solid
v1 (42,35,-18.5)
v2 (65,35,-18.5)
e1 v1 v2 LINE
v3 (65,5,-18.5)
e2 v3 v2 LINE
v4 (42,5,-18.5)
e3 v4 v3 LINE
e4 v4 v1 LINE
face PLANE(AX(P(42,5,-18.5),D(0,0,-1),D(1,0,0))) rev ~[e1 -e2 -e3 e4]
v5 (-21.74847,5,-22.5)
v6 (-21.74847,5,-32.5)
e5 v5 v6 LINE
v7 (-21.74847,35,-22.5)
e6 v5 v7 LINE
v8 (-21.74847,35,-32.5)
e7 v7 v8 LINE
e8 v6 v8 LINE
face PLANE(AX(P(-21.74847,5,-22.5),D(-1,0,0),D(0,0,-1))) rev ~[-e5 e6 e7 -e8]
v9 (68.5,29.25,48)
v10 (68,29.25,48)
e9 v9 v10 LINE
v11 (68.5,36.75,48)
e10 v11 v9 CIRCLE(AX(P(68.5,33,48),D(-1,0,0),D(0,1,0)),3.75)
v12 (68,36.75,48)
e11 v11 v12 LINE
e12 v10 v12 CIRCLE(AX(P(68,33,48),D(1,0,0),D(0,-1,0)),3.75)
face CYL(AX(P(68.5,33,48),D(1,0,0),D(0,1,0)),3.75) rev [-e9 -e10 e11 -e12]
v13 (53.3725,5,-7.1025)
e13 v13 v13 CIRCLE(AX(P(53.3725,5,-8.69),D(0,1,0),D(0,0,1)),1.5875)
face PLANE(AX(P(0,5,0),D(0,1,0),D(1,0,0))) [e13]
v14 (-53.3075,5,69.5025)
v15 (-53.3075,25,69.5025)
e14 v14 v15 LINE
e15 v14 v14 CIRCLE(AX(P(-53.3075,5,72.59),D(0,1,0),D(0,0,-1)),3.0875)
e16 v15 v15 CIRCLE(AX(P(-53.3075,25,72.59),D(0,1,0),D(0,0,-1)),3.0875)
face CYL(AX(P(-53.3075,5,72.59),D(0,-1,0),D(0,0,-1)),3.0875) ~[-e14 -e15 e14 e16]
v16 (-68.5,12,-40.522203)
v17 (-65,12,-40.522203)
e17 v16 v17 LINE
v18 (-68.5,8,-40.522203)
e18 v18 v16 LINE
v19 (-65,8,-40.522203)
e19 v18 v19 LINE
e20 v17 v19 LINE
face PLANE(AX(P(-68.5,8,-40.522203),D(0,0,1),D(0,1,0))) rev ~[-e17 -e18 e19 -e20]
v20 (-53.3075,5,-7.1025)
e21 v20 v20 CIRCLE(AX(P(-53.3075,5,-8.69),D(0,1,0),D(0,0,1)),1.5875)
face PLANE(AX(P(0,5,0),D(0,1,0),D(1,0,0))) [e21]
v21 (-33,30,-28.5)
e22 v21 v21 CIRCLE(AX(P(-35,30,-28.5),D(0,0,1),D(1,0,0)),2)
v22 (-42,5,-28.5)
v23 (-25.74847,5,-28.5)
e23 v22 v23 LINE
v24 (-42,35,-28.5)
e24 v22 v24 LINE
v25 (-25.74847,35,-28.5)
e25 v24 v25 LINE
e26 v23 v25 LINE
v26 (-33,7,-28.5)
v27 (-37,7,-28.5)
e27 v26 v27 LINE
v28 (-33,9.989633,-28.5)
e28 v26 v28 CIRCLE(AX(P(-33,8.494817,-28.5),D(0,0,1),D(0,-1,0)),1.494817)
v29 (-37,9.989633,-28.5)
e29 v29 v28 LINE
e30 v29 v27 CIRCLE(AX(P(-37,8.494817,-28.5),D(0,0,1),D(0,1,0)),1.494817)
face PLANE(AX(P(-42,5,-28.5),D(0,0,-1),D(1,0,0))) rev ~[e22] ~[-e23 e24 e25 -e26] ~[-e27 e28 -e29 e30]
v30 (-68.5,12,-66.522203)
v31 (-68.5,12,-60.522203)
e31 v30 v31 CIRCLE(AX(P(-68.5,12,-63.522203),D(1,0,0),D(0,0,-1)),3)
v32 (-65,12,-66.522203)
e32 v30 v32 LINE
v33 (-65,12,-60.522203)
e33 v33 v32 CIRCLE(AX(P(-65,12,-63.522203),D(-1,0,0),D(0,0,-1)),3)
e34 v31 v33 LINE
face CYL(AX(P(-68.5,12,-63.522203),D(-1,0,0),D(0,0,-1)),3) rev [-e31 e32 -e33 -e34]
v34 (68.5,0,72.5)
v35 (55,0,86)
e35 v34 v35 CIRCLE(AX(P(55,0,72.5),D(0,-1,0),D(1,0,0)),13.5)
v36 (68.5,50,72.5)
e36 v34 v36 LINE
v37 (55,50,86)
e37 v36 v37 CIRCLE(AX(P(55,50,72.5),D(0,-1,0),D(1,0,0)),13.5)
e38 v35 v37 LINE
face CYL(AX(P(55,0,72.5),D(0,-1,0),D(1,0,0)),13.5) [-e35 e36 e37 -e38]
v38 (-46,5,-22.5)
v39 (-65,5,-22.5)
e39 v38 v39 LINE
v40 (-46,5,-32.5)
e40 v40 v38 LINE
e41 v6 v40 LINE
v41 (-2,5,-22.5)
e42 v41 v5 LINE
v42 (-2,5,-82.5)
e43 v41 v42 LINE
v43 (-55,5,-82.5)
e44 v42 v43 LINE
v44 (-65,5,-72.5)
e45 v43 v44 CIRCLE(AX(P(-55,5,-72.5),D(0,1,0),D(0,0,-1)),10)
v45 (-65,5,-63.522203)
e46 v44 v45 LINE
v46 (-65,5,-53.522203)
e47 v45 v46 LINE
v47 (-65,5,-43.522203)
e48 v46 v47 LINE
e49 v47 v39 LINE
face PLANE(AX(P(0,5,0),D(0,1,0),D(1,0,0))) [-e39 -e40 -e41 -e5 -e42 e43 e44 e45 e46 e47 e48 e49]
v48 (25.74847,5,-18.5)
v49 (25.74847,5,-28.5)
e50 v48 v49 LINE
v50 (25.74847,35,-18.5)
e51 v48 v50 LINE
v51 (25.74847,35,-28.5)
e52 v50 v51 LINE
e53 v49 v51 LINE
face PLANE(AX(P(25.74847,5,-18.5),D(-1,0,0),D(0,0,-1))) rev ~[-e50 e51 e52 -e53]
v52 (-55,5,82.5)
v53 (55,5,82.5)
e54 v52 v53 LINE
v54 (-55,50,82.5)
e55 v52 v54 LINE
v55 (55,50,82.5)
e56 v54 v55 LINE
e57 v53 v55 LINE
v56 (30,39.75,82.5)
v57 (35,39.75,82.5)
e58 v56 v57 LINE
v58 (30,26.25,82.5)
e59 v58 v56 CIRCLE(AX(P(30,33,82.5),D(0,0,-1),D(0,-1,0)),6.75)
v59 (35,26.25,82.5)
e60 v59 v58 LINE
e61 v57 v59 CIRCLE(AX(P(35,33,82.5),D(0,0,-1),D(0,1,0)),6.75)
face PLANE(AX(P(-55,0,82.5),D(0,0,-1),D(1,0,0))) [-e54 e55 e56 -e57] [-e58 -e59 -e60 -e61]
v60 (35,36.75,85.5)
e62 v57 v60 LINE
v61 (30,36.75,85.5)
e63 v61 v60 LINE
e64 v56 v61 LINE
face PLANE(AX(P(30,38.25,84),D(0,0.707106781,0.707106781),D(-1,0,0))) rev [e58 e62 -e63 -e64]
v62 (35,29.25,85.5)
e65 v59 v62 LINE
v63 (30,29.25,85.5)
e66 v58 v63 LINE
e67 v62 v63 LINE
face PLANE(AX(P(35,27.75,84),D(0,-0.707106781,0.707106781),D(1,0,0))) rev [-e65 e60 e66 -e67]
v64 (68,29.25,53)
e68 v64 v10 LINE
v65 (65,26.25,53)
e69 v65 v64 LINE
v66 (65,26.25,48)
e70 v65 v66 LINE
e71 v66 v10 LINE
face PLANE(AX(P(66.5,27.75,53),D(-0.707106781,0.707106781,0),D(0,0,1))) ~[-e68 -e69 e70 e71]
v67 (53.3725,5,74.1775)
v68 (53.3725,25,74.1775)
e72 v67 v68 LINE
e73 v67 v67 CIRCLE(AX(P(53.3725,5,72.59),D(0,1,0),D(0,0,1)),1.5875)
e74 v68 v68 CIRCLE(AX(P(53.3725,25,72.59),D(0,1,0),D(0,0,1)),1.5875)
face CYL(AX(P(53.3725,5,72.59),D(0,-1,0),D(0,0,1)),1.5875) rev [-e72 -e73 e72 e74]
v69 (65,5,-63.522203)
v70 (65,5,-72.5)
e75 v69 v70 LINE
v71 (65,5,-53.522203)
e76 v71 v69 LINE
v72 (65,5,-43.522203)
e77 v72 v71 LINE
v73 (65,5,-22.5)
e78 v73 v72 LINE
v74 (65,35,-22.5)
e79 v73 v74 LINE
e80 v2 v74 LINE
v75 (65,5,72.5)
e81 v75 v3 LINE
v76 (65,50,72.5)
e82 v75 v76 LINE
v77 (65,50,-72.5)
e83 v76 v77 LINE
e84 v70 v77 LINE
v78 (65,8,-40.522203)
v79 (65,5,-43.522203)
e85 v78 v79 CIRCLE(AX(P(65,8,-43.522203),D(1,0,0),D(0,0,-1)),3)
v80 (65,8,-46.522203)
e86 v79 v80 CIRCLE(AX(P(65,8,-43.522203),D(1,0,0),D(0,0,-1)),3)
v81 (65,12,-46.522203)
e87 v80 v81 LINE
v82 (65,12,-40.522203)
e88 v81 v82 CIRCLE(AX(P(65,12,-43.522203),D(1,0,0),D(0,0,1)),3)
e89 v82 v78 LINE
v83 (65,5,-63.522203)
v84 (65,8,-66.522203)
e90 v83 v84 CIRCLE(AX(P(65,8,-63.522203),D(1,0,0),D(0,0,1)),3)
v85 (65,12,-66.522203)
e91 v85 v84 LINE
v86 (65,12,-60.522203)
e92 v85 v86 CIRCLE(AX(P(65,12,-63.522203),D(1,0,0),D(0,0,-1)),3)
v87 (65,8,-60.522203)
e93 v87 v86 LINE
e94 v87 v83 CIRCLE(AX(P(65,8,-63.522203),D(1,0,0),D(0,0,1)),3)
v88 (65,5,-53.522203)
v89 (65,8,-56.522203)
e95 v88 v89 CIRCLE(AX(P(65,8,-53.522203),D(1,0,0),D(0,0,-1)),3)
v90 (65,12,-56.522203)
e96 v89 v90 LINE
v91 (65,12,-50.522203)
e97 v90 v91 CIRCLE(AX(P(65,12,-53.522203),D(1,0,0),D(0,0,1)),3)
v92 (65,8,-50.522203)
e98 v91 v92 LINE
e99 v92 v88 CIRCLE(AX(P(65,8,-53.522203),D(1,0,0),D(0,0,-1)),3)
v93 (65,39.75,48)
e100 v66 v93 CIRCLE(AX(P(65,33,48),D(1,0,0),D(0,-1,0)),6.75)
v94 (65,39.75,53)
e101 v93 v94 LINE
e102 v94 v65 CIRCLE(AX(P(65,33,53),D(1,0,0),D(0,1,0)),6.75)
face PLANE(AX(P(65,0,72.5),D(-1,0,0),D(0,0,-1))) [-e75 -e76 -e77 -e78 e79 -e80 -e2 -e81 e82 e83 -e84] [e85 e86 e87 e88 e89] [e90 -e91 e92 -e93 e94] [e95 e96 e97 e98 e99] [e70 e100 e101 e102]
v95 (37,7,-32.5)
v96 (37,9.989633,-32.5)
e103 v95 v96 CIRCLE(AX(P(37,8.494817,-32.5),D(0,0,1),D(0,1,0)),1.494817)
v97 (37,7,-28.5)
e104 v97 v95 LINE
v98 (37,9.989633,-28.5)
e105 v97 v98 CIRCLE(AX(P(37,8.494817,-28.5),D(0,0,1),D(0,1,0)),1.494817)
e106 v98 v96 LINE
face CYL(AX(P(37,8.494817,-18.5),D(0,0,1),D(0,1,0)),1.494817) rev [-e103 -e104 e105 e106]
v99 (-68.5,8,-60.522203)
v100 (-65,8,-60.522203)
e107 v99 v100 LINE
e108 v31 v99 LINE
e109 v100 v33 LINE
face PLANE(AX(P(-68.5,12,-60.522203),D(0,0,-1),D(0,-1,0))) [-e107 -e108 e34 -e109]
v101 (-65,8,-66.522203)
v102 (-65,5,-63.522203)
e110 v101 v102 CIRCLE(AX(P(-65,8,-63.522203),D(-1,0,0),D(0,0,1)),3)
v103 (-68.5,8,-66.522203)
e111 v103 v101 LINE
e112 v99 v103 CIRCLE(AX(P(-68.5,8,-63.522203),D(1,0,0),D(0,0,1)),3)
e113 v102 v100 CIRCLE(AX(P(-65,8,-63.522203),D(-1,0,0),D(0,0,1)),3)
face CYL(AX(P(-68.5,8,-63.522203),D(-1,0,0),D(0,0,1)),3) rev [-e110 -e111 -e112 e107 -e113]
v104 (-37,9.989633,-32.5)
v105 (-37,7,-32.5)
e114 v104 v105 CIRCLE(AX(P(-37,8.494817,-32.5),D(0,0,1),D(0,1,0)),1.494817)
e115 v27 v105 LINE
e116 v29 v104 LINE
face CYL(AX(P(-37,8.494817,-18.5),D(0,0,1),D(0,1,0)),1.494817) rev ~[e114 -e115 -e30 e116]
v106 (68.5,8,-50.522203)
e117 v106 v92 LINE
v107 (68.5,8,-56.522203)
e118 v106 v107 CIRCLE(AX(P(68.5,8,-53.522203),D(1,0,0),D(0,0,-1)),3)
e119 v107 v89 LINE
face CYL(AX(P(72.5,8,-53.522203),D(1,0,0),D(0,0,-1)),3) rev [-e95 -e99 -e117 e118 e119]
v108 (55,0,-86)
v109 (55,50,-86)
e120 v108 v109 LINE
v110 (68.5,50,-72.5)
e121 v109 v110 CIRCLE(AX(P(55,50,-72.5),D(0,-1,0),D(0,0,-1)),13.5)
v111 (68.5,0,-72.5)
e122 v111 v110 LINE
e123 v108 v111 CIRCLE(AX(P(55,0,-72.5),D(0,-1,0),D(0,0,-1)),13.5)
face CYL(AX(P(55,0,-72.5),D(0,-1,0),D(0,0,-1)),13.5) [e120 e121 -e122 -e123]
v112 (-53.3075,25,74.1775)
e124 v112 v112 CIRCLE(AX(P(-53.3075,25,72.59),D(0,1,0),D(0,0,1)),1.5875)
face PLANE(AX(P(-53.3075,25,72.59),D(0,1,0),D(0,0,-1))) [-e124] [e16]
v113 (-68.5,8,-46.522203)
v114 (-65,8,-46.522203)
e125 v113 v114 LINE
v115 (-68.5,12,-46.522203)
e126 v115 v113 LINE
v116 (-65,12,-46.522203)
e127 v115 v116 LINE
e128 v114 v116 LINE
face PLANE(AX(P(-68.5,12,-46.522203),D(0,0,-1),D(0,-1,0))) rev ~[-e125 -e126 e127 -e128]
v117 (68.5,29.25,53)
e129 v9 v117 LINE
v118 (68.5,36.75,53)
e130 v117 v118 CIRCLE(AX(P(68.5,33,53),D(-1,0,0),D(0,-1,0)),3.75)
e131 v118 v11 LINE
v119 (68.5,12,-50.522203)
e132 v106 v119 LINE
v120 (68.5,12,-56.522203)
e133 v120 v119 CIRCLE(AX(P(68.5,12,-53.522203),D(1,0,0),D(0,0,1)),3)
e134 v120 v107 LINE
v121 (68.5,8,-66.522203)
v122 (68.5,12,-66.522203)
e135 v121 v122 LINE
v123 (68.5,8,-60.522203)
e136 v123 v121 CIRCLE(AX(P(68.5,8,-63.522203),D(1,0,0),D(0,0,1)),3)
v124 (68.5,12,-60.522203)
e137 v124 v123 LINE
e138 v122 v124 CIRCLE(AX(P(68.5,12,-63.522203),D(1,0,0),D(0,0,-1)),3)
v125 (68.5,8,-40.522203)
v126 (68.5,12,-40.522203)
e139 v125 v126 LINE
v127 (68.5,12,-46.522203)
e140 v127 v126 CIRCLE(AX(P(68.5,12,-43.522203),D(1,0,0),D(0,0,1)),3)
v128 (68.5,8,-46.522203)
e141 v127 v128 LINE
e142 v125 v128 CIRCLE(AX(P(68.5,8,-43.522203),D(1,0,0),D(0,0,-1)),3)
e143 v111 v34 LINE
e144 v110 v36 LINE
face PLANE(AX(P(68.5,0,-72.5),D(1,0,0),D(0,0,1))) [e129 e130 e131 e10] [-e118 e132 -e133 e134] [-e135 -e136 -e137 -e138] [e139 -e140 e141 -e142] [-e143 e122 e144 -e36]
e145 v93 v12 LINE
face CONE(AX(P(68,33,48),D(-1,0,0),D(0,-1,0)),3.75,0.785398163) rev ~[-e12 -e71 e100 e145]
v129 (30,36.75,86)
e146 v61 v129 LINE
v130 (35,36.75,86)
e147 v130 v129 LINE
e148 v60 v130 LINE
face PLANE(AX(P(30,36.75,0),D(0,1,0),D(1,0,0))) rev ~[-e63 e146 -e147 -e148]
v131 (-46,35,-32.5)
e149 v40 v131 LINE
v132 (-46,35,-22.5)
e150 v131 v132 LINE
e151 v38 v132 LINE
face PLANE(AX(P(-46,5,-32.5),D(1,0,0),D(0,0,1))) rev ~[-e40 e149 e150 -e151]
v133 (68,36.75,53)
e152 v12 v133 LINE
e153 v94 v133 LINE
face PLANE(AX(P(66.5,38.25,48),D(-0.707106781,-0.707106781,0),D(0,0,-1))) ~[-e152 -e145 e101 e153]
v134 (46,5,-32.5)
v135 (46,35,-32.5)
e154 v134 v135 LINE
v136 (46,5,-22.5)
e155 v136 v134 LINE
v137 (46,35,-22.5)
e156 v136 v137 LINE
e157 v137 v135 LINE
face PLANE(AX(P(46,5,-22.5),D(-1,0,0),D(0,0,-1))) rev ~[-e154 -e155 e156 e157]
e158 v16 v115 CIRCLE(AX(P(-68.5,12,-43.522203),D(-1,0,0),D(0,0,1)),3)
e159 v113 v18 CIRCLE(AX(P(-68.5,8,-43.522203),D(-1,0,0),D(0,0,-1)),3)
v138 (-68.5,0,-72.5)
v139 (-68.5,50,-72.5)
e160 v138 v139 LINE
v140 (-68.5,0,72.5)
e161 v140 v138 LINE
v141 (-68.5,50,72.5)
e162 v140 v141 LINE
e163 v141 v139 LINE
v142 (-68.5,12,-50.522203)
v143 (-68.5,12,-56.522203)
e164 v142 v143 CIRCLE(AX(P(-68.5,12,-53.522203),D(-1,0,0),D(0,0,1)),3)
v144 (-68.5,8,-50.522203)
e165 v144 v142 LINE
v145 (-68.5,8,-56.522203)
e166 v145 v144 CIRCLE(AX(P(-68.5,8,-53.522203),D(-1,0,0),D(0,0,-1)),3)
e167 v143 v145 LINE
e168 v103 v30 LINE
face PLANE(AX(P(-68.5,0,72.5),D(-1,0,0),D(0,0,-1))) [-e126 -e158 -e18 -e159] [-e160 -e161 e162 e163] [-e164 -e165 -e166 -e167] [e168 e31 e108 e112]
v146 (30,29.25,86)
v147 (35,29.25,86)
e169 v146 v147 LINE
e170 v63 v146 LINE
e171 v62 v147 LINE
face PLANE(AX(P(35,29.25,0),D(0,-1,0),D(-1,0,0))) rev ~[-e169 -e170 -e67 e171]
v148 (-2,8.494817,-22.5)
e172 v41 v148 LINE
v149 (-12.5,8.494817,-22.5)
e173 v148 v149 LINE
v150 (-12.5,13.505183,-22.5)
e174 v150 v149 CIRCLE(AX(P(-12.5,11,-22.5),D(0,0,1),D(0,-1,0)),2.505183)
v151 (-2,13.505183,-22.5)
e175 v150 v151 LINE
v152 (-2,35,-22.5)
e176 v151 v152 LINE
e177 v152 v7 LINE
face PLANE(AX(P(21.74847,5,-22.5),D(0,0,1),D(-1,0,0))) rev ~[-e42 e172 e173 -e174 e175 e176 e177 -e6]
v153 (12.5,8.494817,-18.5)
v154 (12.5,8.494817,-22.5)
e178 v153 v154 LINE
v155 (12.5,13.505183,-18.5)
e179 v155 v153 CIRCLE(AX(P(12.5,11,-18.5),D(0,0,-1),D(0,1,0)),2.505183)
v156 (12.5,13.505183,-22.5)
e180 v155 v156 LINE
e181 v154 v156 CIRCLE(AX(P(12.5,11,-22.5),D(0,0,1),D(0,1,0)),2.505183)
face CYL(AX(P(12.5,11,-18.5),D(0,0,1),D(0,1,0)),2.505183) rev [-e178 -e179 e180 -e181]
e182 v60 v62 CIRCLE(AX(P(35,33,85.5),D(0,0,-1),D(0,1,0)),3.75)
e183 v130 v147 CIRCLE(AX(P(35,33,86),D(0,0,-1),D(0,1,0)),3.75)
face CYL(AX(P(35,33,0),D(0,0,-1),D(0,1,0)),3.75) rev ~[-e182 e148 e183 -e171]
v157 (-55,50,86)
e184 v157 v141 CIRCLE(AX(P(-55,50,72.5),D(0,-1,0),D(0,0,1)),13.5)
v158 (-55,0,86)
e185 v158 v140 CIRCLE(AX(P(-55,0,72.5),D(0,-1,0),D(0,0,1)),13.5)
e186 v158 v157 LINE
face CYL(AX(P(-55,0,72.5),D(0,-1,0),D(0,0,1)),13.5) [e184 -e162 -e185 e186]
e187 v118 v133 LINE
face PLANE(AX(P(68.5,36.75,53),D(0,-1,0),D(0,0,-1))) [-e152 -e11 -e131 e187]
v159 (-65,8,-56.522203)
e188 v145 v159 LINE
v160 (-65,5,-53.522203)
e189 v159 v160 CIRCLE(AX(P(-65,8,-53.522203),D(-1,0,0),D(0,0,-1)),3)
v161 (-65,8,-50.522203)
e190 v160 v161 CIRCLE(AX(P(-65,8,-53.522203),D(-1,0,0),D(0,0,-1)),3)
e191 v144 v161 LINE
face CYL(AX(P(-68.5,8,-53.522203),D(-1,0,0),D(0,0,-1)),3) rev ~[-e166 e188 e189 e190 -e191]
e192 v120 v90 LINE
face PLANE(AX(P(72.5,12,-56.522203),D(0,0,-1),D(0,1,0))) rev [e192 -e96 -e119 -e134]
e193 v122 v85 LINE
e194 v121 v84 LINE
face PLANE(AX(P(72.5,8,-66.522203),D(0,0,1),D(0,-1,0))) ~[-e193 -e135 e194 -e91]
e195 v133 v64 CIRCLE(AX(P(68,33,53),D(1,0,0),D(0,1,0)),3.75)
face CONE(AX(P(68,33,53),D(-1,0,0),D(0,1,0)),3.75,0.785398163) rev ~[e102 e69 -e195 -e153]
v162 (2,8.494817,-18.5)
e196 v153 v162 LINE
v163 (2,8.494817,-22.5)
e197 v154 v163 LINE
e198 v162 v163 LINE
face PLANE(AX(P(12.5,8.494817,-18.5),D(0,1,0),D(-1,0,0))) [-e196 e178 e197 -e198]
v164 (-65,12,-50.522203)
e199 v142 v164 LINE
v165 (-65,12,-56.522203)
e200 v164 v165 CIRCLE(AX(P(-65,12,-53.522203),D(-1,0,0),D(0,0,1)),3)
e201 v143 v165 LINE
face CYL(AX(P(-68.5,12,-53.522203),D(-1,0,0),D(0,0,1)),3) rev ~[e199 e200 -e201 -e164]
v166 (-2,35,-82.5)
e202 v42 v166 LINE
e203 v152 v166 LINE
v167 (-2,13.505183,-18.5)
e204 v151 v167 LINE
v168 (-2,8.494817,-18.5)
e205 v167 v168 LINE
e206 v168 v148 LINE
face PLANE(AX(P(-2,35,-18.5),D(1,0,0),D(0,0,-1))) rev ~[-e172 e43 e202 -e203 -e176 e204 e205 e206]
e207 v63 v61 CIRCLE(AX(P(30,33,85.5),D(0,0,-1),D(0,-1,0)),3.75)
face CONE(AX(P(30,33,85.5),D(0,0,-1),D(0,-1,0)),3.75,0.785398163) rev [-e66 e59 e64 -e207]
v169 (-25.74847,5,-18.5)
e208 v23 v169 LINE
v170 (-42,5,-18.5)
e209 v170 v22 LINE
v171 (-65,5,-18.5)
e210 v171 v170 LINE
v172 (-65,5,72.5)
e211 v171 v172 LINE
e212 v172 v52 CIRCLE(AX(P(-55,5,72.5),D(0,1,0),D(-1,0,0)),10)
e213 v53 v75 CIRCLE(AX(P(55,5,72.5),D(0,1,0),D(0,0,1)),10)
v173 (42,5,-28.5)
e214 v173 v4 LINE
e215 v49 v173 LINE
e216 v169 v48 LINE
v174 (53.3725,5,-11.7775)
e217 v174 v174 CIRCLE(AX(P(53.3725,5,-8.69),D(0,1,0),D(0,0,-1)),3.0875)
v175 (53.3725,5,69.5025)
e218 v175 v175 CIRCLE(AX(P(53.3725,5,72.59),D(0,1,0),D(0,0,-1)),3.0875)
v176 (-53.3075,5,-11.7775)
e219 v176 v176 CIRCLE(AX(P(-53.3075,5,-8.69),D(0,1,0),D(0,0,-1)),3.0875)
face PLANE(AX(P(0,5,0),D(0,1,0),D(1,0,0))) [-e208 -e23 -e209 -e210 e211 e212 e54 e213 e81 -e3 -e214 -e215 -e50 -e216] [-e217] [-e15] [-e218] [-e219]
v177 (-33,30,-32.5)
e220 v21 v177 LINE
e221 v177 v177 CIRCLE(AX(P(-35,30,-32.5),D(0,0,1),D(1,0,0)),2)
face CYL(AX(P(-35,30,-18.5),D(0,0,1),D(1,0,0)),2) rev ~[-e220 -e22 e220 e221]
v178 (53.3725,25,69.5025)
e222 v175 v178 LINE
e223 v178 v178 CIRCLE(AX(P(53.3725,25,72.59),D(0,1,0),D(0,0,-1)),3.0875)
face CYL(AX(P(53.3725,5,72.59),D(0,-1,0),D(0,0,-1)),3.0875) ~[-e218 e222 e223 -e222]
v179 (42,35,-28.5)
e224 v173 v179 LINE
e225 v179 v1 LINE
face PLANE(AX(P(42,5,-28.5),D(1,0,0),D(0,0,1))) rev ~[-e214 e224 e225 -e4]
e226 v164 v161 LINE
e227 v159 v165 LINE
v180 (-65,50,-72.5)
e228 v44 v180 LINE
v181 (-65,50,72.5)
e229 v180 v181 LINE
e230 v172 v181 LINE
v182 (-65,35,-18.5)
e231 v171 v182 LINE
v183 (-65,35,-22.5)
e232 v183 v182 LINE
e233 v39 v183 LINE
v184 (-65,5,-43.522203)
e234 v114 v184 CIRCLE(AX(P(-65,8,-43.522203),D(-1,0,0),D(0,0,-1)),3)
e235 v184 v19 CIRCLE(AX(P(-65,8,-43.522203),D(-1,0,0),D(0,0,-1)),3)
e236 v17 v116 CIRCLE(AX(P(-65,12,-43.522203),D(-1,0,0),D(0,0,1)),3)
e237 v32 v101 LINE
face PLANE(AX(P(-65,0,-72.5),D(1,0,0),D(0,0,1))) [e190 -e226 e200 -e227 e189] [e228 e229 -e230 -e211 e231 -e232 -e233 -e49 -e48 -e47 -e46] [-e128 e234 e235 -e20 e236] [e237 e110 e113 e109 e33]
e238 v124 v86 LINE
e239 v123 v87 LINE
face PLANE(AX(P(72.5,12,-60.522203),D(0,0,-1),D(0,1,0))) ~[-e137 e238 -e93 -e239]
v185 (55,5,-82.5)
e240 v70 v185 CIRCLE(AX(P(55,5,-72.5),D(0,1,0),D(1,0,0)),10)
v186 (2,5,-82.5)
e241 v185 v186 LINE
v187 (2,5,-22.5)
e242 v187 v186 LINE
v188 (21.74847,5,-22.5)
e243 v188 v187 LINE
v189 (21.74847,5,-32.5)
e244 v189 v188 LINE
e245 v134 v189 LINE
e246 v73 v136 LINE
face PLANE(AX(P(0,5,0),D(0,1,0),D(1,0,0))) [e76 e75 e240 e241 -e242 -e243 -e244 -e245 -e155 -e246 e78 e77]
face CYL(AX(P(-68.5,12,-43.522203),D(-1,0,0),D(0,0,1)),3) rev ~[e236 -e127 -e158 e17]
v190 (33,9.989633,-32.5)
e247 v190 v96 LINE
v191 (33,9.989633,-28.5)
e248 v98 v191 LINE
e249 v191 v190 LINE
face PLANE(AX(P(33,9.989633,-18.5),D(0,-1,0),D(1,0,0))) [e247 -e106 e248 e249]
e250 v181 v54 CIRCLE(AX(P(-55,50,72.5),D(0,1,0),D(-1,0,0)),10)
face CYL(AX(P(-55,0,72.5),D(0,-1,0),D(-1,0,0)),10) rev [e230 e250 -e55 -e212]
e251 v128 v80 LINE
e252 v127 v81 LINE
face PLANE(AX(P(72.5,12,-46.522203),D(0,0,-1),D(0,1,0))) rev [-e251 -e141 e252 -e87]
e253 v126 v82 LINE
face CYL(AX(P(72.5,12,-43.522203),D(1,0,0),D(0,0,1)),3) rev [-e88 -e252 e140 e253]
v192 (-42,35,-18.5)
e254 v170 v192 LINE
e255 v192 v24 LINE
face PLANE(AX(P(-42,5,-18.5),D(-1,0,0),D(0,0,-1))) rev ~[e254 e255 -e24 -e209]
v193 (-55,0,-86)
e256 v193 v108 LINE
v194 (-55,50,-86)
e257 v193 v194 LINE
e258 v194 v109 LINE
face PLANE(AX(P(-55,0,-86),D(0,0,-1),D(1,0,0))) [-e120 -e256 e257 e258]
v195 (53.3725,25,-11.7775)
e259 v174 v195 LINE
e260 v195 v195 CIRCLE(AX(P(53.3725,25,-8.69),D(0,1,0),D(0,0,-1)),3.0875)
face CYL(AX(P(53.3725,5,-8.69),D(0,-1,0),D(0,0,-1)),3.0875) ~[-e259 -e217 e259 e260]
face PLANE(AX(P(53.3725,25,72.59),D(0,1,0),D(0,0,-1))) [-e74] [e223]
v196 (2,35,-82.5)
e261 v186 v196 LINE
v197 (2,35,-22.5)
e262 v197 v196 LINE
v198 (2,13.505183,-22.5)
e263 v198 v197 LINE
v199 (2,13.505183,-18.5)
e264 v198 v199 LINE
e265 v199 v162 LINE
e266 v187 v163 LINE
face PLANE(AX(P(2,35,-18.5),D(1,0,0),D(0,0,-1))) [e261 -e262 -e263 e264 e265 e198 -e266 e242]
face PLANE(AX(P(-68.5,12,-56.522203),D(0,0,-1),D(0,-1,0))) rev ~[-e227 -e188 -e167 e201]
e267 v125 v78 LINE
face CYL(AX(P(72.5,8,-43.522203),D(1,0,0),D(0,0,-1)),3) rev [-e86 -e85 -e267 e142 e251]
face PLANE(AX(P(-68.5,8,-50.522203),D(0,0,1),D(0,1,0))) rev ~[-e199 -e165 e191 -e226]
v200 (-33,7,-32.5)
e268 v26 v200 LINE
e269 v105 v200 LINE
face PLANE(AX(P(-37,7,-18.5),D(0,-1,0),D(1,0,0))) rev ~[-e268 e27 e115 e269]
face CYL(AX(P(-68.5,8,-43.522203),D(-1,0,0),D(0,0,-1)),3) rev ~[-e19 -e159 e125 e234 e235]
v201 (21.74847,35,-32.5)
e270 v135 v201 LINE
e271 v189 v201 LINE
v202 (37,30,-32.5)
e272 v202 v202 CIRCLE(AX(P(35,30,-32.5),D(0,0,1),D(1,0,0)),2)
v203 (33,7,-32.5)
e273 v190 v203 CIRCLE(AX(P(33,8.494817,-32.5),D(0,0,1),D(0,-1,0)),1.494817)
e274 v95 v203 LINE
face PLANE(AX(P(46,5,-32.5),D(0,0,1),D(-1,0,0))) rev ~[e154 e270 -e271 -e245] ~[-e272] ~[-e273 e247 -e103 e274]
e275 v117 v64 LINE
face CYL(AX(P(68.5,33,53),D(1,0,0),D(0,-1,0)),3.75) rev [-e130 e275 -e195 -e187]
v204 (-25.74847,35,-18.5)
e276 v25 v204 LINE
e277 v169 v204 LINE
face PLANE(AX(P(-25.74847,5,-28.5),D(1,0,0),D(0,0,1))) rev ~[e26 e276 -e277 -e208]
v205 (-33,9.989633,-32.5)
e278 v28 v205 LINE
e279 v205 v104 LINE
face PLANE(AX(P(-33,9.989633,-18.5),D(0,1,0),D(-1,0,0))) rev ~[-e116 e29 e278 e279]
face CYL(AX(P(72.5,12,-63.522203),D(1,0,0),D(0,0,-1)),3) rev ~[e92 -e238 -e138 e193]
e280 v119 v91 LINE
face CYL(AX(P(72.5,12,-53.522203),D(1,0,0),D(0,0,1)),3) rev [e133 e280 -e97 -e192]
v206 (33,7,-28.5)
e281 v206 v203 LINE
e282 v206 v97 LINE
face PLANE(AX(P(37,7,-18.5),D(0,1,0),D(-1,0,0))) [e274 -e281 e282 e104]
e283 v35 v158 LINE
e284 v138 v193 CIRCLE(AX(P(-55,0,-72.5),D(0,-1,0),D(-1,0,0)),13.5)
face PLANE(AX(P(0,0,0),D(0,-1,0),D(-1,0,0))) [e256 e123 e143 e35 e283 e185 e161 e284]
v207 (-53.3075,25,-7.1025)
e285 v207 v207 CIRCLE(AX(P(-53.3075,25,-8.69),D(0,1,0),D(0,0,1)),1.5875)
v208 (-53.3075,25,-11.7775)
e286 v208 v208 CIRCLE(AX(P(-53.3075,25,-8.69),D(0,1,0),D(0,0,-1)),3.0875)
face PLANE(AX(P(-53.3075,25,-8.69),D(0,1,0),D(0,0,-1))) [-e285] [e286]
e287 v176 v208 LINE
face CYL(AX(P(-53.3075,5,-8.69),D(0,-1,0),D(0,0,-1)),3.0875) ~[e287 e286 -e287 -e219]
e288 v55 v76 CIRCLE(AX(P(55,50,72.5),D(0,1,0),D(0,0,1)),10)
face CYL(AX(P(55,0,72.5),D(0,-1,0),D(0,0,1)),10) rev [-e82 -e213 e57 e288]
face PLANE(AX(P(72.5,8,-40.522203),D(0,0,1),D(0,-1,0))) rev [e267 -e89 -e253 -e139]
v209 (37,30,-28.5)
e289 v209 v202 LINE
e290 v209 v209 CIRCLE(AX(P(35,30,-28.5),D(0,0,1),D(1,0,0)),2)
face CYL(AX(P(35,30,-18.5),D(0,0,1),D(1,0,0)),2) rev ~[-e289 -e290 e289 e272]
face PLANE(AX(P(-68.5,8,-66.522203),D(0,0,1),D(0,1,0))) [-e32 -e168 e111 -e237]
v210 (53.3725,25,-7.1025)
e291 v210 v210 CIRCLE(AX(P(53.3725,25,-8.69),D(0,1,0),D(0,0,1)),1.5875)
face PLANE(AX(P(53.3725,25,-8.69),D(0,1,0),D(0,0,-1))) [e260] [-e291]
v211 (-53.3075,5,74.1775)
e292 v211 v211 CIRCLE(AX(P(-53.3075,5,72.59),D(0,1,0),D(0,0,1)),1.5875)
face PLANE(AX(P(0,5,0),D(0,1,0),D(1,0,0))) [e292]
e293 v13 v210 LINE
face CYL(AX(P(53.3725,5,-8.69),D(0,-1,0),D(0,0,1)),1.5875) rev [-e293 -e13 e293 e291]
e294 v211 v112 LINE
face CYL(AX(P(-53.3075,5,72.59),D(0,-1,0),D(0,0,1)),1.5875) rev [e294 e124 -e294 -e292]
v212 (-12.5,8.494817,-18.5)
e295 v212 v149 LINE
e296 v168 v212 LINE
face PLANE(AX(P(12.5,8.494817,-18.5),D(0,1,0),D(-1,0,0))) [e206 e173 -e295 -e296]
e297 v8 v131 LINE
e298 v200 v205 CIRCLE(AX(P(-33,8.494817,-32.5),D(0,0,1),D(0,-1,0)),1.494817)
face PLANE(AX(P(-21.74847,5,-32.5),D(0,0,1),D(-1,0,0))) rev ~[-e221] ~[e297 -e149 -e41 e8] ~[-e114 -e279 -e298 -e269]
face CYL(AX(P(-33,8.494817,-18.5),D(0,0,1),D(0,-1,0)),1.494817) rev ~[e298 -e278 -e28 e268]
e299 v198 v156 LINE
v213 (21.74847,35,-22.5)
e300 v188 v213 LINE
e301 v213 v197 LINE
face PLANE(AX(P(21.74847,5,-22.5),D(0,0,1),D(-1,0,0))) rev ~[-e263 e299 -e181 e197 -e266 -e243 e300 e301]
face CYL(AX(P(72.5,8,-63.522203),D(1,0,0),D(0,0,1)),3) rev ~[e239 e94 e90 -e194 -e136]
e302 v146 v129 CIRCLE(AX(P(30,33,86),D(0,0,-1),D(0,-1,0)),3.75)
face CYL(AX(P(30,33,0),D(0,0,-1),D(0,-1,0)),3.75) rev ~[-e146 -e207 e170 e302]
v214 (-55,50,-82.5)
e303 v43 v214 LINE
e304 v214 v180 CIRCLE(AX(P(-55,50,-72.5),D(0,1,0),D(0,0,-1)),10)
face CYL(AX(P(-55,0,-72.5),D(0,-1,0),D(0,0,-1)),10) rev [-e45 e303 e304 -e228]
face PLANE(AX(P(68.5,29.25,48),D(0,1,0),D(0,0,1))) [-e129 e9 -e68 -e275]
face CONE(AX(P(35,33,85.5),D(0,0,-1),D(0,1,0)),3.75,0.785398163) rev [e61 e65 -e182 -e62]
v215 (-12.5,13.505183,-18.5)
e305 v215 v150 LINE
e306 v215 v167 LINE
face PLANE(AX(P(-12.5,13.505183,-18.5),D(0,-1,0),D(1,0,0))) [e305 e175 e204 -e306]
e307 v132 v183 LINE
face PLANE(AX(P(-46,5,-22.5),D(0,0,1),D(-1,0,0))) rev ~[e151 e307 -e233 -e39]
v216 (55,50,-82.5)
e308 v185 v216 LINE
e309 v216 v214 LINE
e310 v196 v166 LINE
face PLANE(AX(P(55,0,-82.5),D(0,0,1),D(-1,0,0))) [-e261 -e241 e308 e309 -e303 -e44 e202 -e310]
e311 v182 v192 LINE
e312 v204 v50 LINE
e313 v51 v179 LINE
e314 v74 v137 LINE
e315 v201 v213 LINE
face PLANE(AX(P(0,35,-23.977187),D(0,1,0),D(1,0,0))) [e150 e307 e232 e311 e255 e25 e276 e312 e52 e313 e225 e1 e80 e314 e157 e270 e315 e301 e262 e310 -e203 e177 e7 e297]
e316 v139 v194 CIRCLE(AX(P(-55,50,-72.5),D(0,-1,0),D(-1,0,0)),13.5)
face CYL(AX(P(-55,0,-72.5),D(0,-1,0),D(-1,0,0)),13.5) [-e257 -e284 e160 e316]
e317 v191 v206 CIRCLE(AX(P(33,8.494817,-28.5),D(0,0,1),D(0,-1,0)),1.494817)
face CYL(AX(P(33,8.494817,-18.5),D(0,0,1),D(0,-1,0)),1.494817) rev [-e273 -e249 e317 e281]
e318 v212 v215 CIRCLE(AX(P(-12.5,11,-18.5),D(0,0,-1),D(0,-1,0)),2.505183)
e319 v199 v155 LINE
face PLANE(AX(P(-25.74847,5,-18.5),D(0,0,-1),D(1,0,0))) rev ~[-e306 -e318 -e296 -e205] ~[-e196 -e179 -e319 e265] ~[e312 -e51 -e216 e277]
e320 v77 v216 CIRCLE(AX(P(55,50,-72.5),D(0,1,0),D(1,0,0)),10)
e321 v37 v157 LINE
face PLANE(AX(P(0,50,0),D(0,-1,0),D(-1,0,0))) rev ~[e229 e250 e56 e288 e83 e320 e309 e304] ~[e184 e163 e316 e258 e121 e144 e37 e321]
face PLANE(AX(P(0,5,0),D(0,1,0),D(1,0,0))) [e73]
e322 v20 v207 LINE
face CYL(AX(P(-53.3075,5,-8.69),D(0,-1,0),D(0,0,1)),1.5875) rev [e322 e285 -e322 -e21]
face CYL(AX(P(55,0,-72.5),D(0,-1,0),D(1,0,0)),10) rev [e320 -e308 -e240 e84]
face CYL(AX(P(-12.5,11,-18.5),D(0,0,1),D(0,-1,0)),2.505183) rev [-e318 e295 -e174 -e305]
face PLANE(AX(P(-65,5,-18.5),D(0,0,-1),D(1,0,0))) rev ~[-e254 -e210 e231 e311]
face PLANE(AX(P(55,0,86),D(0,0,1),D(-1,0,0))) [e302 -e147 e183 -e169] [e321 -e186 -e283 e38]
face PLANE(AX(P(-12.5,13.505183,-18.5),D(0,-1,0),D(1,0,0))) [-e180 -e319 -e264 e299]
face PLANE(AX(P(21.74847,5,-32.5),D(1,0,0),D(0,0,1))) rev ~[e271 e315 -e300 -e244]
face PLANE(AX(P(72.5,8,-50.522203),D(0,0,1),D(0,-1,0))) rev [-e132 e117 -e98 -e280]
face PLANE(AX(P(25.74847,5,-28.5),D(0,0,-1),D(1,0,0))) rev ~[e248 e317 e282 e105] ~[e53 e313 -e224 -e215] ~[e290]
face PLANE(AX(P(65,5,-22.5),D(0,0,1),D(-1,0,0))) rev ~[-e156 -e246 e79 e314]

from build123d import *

# Parameters (mm, degrees)
BOSS_EXTRUDE1_DEPTH = 5
BOSS_EXTRUDE2_DEPTH = 30
SKETCH3_R           = 2
CUT_EXTRUDE1_DEPTH  = 126.103956772
BOSS_EXTRUDE3_DEPTH = 50
SKETCH7_R           = 3.0875
SKETCH7_R_2         = 1.5875
BOSS_EXTRUDE4_DEPTH = 20
SKETCH9_W           = 4
SKETCH9_H           = 67.5
BOSS_EXTRUDE5_DEPTH = 30
CUT_EXTRUDE2_DEPTH  = 20
CUT_EXTRUDE3_DEPTH  = 10
CHAMFER1_SIZE       = 3
CUT_EXTRUDE4_DEPTH  = 121.781828103
CHAMFER2_SIZE       = 3


with BuildPart() as part:
    # Sketch1 → Boss-Extrude1 (new body)
    with BuildSketch(Plane(origin=(0, 0, 0), x_dir=(1, 0, 0), z_dir=(0, 1, 0))):
        with BuildLine():
            Line((-55, -82.5), (55, -82.5))
            ThreePointArc((55, -82.5), (62.071067812, -79.571067812), (65, -72.5))
            Line((65, -72.5), (65, 72.5))
            ThreePointArc((65, 72.5), (62.071067812, 79.571067812), (55, 82.5))
            Line((55, 82.5), (-55, 82.5))
            ThreePointArc((-55, 82.5), (-62.071067812, 79.571067812), (-65, 72.5))
            Line((-65, 72.5), (-65, -72.5))
            ThreePointArc((-65, -72.5), (-62.071067812, -79.571067812), (-55, -82.5))
        make_face()
    extrude(amount=BOSS_EXTRUDE1_DEPTH)

    # Sketch2 → Boss-Extrude2 (add)
    with BuildSketch(Plane(origin=(0, 5, 0), x_dir=(1, 0, 0), z_dir=(0, 1, 0))):
        Polygon((-65, 18.5), (-42, 18.5), (-42, 28.5), (-25.74846966, 28.5), (-25.74846966, 18.5), (25.74846966, 18.5), (25.74846966, 28.5), (42, 28.5), (42, 18.5), (65, 18.5), (65, 22.5), (46, 22.5), (46, 32.5), (21.74846966, 32.5), (21.74846966, 22.5), (-21.74846966, 22.5), (-21.74846966, 32.5), (-46, 32.5), (-46, 22.5), (-65, 22.5), align=None)
    extrude(amount=BOSS_EXTRUDE2_DEPTH)

    # Sketch3 → Cut-Extrude1 (cut, through all)
    with BuildSketch(Plane.XY.offset(-18.5)):
        with Locations((35, 30)):
            Circle(SKETCH3_R)
        with Locations((-35, 30)):
            Circle(SKETCH3_R)
        with BuildLine():
            Line((-12.5, 13.50518346), (12.5, 13.50518346))
            ThreePointArc((12.5, 13.50518346), (15.00518346, 11), (12.5, 8.49481654))
            Line((12.5, 8.49481654), (-12.5, 8.49481654))
            ThreePointArc((-12.5, 8.49481654), (-15.00518346, 11), (-12.5, 13.50518346))
        make_face()
        with BuildLine():
            Line((33, 9.98963308), (37, 9.98963308))
            ThreePointArc((37, 9.98963308), (38.49481654, 8.49481654), (37, 7))
            Line((37, 7), (33, 7))
            ThreePointArc((33, 7), (31.50518346, 8.49481654), (33, 9.98963308))
        make_face()
        with BuildLine():
            Line((-33, 9.98963308), (-37, 9.98963308))
            ThreePointArc((-37, 9.98963308), (-38.49481654, 8.49481654), (-37, 7))
            Line((-37, 7), (-33, 7))
            ThreePointArc((-33, 7), (-31.50518346, 8.49481654), (-33, 9.98963308))
        make_face()
    extrude(amount=-CUT_EXTRUDE1_DEPTH, mode=Mode.SUBTRACT)

    # Sketch1<3> → Boss-Extrude3 (add)
    with BuildSketch(Plane(origin=(0, 0, 0), x_dir=(1, 0, 0), z_dir=(0, 1, 0))):
        with BuildLine():
            Line((-68.5, -72.5), (-68.5, 72.5))
            ThreePointArc((-68.5, 72.5), (-64.545941546, 82.045941546), (-55, 86))
            Line((-55, 86), (55, 86))
            ThreePointArc((55, 86), (64.545941546, 82.045941546), (68.5, 72.5))
            Line((68.5, 72.5), (68.5, -72.5))
            ThreePointArc((68.5, -72.5), (64.545941546, -82.045941546), (55, -86))
            Line((55, -86), (-55, -86))
            ThreePointArc((-55, -86), (-64.545941546, -82.045941546), (-68.5, -72.5))
        make_face()
        with BuildLine():
            Line((-55, -82.5), (55, -82.5))
            ThreePointArc((55, -82.5), (62.071067812, -79.571067812), (65, -72.5))
            Line((65, -72.5), (65, 72.5))
            ThreePointArc((65, 72.5), (62.071067812, 79.571067812), (55, 82.5))
            Line((55, 82.5), (-55, 82.5))
            ThreePointArc((-55, 82.5), (-62.071067812, 79.571067812), (-65, 72.5))
            Line((-65, 72.5), (-65, -72.5))
            ThreePointArc((-65, -72.5), (-62.071067812, -79.571067812), (-55, -82.5))
        make_face(mode=Mode.SUBTRACT)
    extrude(amount=BOSS_EXTRUDE3_DEPTH)

    # Sketch7 → Boss-Extrude4 (add)
    # profile 1 of 4: a face of its own
    with BuildSketch(Plane(origin=(0, 5, 0), x_dir=(1, 0, 0), z_dir=(0, 1, 0))):
        with Locations((-53.3075, -72.59)):
            Circle(SKETCH7_R)
        with Locations((-53.3075, -72.59)):
            Circle(SKETCH7_R_2, mode=Mode.SUBTRACT)
    # profile 2 of 4: a face of its own
    with BuildSketch(Plane(origin=(0, 5, 0), x_dir=(1, 0, 0), z_dir=(0, 1, 0))):
        with Locations((53.3725, -72.59)):
            Circle(SKETCH7_R)
        with Locations((53.3725, -72.59)):
            Circle(SKETCH7_R_2, mode=Mode.SUBTRACT)
    # profile 3 of 4: a face of its own
    with BuildSketch(Plane(origin=(0, 5, 0), x_dir=(1, 0, 0), z_dir=(0, 1, 0))):
        with Locations((-53.3075, 8.69)):
            Circle(SKETCH7_R)
        with Locations((-53.3075, 8.69)):
            Circle(SKETCH7_R_2, mode=Mode.SUBTRACT)
    # profile 4 of 4: a face of its own
    with BuildSketch(Plane(origin=(0, 5, 0), x_dir=(1, 0, 0), z_dir=(0, 1, 0))):
        with Locations((53.3725, 8.69)):
            Circle(SKETCH7_R)
        with Locations((53.3725, 8.69)):
            Circle(SKETCH7_R_2, mode=Mode.SUBTRACT)
    extrude(amount=BOSS_EXTRUDE4_DEPTH)

    # Sketch9 → Boss-Extrude5 (add)
    with BuildSketch(Plane(origin=(0, 35, 0), x_dir=(1, 0, 0), z_dir=(0, 1, 0))):
        with Locations((0, 52.25)):
            Rectangle(SKETCH9_W, SKETCH9_H)
    extrude(amount=-BOSS_EXTRUDE5_DEPTH)

    # Sketch11 → Cut-Extrude2 (cut)
    with BuildSketch(Plane.ZY.offset(68.5)):
        with BuildLine():
            Line((-66.522203209, 8), (-66.522203209, 12))
            ThreePointArc((-66.522203209, 12), (-63.522203209, 15), (-60.522203209, 12))
            Line((-60.522203209, 12), (-60.522203209, 8))
            ThreePointArc((-60.522203209, 8), (-63.522203209, 5), (-66.522203209, 8))
        make_face()
        with BuildLine():
            Line((-50.522203209, 8), (-50.522203209, 12))
            ThreePointArc((-50.522203209, 12), (-53.522203209, 15), (-56.522203209, 12))
            Line((-56.522203209, 12), (-56.522203209, 8))
            ThreePointArc((-56.522203209, 8), (-53.522203209, 5), (-50.522203209, 8))
        make_face()
        with BuildLine():
            Line((-40.522203209, 8), (-40.522203209, 12))
            ThreePointArc((-40.522203209, 12), (-43.522203209, 15), (-46.522203209, 12))
            Line((-46.522203209, 12), (-46.522203209, 8))
            ThreePointArc((-46.522203209, 8), (-43.522203209, 5), (-40.522203209, 8))
        make_face()
    cut_extrude2 = extrude(amount=-CUT_EXTRUDE2_DEPTH, mode=Mode.SUBTRACT)

    # Mirror1: Cut-Extrude2 across plane
    add(cut_extrude2.mirror(Plane(origin=(2, 5, -86), x_dir=(0, 0, 1), z_dir=(1, 0, 0))), mode=Mode.SUBTRACT)

    # Sketch12 → Cut-Extrude3 (cut)
    with BuildSketch(Plane(origin=(68.5, 0, 0), x_dir=(0, 0, -1), z_dir=(1, 0, 0))):
        with BuildLine():
            Line((-53, 36.75), (-48, 36.75))
            ThreePointArc((-48, 36.75), (-44.25, 33), (-48, 29.25))
            Line((-48, 29.25), (-53, 29.25))
            ThreePointArc((-53, 29.25), (-56.75, 33), (-53, 36.75))
        make_face()
    extrude(amount=-CUT_EXTRUDE3_DEPTH, mode=Mode.SUBTRACT)

    # Chamfer1
    chamfer1_edges = [part.edges().sort_by_distance(p)[0] for p in [
        (65, 36.75, 50.5),
        (65, 33, 44.25),
        (65, 33, 56.75),
        (65, 29.25, 50.5),
    ]]
    chamfer(chamfer1_edges, length=CHAMFER1_SIZE)

    # Sketch13 → Cut-Extrude4 (cut, through all)
    with BuildSketch(Plane.XY):
        with BuildLine():
            Line((30, 36.75), (35, 36.75))
            ThreePointArc((35, 36.75), (38.75, 33), (35, 29.25))
            Line((35, 29.25), (30, 29.25))
            ThreePointArc((30, 29.25), (26.25, 33), (30, 36.75))
        make_face()
    extrude(amount=CUT_EXTRUDE4_DEPTH, mode=Mode.SUBTRACT)

    # Chamfer2
    chamfer2_edges = [part.edges().sort_by_distance(p)[0] for p in [
        (32.5, 36.75, 82.5),
        (26.25, 33, 82.5),
        (38.75, 33, 82.5),
        (32.5, 29.25, 82.5),
    ]]
    chamfer(chamfer2_edges, length=CHAMFER2_SIZE)


solid = part.part
